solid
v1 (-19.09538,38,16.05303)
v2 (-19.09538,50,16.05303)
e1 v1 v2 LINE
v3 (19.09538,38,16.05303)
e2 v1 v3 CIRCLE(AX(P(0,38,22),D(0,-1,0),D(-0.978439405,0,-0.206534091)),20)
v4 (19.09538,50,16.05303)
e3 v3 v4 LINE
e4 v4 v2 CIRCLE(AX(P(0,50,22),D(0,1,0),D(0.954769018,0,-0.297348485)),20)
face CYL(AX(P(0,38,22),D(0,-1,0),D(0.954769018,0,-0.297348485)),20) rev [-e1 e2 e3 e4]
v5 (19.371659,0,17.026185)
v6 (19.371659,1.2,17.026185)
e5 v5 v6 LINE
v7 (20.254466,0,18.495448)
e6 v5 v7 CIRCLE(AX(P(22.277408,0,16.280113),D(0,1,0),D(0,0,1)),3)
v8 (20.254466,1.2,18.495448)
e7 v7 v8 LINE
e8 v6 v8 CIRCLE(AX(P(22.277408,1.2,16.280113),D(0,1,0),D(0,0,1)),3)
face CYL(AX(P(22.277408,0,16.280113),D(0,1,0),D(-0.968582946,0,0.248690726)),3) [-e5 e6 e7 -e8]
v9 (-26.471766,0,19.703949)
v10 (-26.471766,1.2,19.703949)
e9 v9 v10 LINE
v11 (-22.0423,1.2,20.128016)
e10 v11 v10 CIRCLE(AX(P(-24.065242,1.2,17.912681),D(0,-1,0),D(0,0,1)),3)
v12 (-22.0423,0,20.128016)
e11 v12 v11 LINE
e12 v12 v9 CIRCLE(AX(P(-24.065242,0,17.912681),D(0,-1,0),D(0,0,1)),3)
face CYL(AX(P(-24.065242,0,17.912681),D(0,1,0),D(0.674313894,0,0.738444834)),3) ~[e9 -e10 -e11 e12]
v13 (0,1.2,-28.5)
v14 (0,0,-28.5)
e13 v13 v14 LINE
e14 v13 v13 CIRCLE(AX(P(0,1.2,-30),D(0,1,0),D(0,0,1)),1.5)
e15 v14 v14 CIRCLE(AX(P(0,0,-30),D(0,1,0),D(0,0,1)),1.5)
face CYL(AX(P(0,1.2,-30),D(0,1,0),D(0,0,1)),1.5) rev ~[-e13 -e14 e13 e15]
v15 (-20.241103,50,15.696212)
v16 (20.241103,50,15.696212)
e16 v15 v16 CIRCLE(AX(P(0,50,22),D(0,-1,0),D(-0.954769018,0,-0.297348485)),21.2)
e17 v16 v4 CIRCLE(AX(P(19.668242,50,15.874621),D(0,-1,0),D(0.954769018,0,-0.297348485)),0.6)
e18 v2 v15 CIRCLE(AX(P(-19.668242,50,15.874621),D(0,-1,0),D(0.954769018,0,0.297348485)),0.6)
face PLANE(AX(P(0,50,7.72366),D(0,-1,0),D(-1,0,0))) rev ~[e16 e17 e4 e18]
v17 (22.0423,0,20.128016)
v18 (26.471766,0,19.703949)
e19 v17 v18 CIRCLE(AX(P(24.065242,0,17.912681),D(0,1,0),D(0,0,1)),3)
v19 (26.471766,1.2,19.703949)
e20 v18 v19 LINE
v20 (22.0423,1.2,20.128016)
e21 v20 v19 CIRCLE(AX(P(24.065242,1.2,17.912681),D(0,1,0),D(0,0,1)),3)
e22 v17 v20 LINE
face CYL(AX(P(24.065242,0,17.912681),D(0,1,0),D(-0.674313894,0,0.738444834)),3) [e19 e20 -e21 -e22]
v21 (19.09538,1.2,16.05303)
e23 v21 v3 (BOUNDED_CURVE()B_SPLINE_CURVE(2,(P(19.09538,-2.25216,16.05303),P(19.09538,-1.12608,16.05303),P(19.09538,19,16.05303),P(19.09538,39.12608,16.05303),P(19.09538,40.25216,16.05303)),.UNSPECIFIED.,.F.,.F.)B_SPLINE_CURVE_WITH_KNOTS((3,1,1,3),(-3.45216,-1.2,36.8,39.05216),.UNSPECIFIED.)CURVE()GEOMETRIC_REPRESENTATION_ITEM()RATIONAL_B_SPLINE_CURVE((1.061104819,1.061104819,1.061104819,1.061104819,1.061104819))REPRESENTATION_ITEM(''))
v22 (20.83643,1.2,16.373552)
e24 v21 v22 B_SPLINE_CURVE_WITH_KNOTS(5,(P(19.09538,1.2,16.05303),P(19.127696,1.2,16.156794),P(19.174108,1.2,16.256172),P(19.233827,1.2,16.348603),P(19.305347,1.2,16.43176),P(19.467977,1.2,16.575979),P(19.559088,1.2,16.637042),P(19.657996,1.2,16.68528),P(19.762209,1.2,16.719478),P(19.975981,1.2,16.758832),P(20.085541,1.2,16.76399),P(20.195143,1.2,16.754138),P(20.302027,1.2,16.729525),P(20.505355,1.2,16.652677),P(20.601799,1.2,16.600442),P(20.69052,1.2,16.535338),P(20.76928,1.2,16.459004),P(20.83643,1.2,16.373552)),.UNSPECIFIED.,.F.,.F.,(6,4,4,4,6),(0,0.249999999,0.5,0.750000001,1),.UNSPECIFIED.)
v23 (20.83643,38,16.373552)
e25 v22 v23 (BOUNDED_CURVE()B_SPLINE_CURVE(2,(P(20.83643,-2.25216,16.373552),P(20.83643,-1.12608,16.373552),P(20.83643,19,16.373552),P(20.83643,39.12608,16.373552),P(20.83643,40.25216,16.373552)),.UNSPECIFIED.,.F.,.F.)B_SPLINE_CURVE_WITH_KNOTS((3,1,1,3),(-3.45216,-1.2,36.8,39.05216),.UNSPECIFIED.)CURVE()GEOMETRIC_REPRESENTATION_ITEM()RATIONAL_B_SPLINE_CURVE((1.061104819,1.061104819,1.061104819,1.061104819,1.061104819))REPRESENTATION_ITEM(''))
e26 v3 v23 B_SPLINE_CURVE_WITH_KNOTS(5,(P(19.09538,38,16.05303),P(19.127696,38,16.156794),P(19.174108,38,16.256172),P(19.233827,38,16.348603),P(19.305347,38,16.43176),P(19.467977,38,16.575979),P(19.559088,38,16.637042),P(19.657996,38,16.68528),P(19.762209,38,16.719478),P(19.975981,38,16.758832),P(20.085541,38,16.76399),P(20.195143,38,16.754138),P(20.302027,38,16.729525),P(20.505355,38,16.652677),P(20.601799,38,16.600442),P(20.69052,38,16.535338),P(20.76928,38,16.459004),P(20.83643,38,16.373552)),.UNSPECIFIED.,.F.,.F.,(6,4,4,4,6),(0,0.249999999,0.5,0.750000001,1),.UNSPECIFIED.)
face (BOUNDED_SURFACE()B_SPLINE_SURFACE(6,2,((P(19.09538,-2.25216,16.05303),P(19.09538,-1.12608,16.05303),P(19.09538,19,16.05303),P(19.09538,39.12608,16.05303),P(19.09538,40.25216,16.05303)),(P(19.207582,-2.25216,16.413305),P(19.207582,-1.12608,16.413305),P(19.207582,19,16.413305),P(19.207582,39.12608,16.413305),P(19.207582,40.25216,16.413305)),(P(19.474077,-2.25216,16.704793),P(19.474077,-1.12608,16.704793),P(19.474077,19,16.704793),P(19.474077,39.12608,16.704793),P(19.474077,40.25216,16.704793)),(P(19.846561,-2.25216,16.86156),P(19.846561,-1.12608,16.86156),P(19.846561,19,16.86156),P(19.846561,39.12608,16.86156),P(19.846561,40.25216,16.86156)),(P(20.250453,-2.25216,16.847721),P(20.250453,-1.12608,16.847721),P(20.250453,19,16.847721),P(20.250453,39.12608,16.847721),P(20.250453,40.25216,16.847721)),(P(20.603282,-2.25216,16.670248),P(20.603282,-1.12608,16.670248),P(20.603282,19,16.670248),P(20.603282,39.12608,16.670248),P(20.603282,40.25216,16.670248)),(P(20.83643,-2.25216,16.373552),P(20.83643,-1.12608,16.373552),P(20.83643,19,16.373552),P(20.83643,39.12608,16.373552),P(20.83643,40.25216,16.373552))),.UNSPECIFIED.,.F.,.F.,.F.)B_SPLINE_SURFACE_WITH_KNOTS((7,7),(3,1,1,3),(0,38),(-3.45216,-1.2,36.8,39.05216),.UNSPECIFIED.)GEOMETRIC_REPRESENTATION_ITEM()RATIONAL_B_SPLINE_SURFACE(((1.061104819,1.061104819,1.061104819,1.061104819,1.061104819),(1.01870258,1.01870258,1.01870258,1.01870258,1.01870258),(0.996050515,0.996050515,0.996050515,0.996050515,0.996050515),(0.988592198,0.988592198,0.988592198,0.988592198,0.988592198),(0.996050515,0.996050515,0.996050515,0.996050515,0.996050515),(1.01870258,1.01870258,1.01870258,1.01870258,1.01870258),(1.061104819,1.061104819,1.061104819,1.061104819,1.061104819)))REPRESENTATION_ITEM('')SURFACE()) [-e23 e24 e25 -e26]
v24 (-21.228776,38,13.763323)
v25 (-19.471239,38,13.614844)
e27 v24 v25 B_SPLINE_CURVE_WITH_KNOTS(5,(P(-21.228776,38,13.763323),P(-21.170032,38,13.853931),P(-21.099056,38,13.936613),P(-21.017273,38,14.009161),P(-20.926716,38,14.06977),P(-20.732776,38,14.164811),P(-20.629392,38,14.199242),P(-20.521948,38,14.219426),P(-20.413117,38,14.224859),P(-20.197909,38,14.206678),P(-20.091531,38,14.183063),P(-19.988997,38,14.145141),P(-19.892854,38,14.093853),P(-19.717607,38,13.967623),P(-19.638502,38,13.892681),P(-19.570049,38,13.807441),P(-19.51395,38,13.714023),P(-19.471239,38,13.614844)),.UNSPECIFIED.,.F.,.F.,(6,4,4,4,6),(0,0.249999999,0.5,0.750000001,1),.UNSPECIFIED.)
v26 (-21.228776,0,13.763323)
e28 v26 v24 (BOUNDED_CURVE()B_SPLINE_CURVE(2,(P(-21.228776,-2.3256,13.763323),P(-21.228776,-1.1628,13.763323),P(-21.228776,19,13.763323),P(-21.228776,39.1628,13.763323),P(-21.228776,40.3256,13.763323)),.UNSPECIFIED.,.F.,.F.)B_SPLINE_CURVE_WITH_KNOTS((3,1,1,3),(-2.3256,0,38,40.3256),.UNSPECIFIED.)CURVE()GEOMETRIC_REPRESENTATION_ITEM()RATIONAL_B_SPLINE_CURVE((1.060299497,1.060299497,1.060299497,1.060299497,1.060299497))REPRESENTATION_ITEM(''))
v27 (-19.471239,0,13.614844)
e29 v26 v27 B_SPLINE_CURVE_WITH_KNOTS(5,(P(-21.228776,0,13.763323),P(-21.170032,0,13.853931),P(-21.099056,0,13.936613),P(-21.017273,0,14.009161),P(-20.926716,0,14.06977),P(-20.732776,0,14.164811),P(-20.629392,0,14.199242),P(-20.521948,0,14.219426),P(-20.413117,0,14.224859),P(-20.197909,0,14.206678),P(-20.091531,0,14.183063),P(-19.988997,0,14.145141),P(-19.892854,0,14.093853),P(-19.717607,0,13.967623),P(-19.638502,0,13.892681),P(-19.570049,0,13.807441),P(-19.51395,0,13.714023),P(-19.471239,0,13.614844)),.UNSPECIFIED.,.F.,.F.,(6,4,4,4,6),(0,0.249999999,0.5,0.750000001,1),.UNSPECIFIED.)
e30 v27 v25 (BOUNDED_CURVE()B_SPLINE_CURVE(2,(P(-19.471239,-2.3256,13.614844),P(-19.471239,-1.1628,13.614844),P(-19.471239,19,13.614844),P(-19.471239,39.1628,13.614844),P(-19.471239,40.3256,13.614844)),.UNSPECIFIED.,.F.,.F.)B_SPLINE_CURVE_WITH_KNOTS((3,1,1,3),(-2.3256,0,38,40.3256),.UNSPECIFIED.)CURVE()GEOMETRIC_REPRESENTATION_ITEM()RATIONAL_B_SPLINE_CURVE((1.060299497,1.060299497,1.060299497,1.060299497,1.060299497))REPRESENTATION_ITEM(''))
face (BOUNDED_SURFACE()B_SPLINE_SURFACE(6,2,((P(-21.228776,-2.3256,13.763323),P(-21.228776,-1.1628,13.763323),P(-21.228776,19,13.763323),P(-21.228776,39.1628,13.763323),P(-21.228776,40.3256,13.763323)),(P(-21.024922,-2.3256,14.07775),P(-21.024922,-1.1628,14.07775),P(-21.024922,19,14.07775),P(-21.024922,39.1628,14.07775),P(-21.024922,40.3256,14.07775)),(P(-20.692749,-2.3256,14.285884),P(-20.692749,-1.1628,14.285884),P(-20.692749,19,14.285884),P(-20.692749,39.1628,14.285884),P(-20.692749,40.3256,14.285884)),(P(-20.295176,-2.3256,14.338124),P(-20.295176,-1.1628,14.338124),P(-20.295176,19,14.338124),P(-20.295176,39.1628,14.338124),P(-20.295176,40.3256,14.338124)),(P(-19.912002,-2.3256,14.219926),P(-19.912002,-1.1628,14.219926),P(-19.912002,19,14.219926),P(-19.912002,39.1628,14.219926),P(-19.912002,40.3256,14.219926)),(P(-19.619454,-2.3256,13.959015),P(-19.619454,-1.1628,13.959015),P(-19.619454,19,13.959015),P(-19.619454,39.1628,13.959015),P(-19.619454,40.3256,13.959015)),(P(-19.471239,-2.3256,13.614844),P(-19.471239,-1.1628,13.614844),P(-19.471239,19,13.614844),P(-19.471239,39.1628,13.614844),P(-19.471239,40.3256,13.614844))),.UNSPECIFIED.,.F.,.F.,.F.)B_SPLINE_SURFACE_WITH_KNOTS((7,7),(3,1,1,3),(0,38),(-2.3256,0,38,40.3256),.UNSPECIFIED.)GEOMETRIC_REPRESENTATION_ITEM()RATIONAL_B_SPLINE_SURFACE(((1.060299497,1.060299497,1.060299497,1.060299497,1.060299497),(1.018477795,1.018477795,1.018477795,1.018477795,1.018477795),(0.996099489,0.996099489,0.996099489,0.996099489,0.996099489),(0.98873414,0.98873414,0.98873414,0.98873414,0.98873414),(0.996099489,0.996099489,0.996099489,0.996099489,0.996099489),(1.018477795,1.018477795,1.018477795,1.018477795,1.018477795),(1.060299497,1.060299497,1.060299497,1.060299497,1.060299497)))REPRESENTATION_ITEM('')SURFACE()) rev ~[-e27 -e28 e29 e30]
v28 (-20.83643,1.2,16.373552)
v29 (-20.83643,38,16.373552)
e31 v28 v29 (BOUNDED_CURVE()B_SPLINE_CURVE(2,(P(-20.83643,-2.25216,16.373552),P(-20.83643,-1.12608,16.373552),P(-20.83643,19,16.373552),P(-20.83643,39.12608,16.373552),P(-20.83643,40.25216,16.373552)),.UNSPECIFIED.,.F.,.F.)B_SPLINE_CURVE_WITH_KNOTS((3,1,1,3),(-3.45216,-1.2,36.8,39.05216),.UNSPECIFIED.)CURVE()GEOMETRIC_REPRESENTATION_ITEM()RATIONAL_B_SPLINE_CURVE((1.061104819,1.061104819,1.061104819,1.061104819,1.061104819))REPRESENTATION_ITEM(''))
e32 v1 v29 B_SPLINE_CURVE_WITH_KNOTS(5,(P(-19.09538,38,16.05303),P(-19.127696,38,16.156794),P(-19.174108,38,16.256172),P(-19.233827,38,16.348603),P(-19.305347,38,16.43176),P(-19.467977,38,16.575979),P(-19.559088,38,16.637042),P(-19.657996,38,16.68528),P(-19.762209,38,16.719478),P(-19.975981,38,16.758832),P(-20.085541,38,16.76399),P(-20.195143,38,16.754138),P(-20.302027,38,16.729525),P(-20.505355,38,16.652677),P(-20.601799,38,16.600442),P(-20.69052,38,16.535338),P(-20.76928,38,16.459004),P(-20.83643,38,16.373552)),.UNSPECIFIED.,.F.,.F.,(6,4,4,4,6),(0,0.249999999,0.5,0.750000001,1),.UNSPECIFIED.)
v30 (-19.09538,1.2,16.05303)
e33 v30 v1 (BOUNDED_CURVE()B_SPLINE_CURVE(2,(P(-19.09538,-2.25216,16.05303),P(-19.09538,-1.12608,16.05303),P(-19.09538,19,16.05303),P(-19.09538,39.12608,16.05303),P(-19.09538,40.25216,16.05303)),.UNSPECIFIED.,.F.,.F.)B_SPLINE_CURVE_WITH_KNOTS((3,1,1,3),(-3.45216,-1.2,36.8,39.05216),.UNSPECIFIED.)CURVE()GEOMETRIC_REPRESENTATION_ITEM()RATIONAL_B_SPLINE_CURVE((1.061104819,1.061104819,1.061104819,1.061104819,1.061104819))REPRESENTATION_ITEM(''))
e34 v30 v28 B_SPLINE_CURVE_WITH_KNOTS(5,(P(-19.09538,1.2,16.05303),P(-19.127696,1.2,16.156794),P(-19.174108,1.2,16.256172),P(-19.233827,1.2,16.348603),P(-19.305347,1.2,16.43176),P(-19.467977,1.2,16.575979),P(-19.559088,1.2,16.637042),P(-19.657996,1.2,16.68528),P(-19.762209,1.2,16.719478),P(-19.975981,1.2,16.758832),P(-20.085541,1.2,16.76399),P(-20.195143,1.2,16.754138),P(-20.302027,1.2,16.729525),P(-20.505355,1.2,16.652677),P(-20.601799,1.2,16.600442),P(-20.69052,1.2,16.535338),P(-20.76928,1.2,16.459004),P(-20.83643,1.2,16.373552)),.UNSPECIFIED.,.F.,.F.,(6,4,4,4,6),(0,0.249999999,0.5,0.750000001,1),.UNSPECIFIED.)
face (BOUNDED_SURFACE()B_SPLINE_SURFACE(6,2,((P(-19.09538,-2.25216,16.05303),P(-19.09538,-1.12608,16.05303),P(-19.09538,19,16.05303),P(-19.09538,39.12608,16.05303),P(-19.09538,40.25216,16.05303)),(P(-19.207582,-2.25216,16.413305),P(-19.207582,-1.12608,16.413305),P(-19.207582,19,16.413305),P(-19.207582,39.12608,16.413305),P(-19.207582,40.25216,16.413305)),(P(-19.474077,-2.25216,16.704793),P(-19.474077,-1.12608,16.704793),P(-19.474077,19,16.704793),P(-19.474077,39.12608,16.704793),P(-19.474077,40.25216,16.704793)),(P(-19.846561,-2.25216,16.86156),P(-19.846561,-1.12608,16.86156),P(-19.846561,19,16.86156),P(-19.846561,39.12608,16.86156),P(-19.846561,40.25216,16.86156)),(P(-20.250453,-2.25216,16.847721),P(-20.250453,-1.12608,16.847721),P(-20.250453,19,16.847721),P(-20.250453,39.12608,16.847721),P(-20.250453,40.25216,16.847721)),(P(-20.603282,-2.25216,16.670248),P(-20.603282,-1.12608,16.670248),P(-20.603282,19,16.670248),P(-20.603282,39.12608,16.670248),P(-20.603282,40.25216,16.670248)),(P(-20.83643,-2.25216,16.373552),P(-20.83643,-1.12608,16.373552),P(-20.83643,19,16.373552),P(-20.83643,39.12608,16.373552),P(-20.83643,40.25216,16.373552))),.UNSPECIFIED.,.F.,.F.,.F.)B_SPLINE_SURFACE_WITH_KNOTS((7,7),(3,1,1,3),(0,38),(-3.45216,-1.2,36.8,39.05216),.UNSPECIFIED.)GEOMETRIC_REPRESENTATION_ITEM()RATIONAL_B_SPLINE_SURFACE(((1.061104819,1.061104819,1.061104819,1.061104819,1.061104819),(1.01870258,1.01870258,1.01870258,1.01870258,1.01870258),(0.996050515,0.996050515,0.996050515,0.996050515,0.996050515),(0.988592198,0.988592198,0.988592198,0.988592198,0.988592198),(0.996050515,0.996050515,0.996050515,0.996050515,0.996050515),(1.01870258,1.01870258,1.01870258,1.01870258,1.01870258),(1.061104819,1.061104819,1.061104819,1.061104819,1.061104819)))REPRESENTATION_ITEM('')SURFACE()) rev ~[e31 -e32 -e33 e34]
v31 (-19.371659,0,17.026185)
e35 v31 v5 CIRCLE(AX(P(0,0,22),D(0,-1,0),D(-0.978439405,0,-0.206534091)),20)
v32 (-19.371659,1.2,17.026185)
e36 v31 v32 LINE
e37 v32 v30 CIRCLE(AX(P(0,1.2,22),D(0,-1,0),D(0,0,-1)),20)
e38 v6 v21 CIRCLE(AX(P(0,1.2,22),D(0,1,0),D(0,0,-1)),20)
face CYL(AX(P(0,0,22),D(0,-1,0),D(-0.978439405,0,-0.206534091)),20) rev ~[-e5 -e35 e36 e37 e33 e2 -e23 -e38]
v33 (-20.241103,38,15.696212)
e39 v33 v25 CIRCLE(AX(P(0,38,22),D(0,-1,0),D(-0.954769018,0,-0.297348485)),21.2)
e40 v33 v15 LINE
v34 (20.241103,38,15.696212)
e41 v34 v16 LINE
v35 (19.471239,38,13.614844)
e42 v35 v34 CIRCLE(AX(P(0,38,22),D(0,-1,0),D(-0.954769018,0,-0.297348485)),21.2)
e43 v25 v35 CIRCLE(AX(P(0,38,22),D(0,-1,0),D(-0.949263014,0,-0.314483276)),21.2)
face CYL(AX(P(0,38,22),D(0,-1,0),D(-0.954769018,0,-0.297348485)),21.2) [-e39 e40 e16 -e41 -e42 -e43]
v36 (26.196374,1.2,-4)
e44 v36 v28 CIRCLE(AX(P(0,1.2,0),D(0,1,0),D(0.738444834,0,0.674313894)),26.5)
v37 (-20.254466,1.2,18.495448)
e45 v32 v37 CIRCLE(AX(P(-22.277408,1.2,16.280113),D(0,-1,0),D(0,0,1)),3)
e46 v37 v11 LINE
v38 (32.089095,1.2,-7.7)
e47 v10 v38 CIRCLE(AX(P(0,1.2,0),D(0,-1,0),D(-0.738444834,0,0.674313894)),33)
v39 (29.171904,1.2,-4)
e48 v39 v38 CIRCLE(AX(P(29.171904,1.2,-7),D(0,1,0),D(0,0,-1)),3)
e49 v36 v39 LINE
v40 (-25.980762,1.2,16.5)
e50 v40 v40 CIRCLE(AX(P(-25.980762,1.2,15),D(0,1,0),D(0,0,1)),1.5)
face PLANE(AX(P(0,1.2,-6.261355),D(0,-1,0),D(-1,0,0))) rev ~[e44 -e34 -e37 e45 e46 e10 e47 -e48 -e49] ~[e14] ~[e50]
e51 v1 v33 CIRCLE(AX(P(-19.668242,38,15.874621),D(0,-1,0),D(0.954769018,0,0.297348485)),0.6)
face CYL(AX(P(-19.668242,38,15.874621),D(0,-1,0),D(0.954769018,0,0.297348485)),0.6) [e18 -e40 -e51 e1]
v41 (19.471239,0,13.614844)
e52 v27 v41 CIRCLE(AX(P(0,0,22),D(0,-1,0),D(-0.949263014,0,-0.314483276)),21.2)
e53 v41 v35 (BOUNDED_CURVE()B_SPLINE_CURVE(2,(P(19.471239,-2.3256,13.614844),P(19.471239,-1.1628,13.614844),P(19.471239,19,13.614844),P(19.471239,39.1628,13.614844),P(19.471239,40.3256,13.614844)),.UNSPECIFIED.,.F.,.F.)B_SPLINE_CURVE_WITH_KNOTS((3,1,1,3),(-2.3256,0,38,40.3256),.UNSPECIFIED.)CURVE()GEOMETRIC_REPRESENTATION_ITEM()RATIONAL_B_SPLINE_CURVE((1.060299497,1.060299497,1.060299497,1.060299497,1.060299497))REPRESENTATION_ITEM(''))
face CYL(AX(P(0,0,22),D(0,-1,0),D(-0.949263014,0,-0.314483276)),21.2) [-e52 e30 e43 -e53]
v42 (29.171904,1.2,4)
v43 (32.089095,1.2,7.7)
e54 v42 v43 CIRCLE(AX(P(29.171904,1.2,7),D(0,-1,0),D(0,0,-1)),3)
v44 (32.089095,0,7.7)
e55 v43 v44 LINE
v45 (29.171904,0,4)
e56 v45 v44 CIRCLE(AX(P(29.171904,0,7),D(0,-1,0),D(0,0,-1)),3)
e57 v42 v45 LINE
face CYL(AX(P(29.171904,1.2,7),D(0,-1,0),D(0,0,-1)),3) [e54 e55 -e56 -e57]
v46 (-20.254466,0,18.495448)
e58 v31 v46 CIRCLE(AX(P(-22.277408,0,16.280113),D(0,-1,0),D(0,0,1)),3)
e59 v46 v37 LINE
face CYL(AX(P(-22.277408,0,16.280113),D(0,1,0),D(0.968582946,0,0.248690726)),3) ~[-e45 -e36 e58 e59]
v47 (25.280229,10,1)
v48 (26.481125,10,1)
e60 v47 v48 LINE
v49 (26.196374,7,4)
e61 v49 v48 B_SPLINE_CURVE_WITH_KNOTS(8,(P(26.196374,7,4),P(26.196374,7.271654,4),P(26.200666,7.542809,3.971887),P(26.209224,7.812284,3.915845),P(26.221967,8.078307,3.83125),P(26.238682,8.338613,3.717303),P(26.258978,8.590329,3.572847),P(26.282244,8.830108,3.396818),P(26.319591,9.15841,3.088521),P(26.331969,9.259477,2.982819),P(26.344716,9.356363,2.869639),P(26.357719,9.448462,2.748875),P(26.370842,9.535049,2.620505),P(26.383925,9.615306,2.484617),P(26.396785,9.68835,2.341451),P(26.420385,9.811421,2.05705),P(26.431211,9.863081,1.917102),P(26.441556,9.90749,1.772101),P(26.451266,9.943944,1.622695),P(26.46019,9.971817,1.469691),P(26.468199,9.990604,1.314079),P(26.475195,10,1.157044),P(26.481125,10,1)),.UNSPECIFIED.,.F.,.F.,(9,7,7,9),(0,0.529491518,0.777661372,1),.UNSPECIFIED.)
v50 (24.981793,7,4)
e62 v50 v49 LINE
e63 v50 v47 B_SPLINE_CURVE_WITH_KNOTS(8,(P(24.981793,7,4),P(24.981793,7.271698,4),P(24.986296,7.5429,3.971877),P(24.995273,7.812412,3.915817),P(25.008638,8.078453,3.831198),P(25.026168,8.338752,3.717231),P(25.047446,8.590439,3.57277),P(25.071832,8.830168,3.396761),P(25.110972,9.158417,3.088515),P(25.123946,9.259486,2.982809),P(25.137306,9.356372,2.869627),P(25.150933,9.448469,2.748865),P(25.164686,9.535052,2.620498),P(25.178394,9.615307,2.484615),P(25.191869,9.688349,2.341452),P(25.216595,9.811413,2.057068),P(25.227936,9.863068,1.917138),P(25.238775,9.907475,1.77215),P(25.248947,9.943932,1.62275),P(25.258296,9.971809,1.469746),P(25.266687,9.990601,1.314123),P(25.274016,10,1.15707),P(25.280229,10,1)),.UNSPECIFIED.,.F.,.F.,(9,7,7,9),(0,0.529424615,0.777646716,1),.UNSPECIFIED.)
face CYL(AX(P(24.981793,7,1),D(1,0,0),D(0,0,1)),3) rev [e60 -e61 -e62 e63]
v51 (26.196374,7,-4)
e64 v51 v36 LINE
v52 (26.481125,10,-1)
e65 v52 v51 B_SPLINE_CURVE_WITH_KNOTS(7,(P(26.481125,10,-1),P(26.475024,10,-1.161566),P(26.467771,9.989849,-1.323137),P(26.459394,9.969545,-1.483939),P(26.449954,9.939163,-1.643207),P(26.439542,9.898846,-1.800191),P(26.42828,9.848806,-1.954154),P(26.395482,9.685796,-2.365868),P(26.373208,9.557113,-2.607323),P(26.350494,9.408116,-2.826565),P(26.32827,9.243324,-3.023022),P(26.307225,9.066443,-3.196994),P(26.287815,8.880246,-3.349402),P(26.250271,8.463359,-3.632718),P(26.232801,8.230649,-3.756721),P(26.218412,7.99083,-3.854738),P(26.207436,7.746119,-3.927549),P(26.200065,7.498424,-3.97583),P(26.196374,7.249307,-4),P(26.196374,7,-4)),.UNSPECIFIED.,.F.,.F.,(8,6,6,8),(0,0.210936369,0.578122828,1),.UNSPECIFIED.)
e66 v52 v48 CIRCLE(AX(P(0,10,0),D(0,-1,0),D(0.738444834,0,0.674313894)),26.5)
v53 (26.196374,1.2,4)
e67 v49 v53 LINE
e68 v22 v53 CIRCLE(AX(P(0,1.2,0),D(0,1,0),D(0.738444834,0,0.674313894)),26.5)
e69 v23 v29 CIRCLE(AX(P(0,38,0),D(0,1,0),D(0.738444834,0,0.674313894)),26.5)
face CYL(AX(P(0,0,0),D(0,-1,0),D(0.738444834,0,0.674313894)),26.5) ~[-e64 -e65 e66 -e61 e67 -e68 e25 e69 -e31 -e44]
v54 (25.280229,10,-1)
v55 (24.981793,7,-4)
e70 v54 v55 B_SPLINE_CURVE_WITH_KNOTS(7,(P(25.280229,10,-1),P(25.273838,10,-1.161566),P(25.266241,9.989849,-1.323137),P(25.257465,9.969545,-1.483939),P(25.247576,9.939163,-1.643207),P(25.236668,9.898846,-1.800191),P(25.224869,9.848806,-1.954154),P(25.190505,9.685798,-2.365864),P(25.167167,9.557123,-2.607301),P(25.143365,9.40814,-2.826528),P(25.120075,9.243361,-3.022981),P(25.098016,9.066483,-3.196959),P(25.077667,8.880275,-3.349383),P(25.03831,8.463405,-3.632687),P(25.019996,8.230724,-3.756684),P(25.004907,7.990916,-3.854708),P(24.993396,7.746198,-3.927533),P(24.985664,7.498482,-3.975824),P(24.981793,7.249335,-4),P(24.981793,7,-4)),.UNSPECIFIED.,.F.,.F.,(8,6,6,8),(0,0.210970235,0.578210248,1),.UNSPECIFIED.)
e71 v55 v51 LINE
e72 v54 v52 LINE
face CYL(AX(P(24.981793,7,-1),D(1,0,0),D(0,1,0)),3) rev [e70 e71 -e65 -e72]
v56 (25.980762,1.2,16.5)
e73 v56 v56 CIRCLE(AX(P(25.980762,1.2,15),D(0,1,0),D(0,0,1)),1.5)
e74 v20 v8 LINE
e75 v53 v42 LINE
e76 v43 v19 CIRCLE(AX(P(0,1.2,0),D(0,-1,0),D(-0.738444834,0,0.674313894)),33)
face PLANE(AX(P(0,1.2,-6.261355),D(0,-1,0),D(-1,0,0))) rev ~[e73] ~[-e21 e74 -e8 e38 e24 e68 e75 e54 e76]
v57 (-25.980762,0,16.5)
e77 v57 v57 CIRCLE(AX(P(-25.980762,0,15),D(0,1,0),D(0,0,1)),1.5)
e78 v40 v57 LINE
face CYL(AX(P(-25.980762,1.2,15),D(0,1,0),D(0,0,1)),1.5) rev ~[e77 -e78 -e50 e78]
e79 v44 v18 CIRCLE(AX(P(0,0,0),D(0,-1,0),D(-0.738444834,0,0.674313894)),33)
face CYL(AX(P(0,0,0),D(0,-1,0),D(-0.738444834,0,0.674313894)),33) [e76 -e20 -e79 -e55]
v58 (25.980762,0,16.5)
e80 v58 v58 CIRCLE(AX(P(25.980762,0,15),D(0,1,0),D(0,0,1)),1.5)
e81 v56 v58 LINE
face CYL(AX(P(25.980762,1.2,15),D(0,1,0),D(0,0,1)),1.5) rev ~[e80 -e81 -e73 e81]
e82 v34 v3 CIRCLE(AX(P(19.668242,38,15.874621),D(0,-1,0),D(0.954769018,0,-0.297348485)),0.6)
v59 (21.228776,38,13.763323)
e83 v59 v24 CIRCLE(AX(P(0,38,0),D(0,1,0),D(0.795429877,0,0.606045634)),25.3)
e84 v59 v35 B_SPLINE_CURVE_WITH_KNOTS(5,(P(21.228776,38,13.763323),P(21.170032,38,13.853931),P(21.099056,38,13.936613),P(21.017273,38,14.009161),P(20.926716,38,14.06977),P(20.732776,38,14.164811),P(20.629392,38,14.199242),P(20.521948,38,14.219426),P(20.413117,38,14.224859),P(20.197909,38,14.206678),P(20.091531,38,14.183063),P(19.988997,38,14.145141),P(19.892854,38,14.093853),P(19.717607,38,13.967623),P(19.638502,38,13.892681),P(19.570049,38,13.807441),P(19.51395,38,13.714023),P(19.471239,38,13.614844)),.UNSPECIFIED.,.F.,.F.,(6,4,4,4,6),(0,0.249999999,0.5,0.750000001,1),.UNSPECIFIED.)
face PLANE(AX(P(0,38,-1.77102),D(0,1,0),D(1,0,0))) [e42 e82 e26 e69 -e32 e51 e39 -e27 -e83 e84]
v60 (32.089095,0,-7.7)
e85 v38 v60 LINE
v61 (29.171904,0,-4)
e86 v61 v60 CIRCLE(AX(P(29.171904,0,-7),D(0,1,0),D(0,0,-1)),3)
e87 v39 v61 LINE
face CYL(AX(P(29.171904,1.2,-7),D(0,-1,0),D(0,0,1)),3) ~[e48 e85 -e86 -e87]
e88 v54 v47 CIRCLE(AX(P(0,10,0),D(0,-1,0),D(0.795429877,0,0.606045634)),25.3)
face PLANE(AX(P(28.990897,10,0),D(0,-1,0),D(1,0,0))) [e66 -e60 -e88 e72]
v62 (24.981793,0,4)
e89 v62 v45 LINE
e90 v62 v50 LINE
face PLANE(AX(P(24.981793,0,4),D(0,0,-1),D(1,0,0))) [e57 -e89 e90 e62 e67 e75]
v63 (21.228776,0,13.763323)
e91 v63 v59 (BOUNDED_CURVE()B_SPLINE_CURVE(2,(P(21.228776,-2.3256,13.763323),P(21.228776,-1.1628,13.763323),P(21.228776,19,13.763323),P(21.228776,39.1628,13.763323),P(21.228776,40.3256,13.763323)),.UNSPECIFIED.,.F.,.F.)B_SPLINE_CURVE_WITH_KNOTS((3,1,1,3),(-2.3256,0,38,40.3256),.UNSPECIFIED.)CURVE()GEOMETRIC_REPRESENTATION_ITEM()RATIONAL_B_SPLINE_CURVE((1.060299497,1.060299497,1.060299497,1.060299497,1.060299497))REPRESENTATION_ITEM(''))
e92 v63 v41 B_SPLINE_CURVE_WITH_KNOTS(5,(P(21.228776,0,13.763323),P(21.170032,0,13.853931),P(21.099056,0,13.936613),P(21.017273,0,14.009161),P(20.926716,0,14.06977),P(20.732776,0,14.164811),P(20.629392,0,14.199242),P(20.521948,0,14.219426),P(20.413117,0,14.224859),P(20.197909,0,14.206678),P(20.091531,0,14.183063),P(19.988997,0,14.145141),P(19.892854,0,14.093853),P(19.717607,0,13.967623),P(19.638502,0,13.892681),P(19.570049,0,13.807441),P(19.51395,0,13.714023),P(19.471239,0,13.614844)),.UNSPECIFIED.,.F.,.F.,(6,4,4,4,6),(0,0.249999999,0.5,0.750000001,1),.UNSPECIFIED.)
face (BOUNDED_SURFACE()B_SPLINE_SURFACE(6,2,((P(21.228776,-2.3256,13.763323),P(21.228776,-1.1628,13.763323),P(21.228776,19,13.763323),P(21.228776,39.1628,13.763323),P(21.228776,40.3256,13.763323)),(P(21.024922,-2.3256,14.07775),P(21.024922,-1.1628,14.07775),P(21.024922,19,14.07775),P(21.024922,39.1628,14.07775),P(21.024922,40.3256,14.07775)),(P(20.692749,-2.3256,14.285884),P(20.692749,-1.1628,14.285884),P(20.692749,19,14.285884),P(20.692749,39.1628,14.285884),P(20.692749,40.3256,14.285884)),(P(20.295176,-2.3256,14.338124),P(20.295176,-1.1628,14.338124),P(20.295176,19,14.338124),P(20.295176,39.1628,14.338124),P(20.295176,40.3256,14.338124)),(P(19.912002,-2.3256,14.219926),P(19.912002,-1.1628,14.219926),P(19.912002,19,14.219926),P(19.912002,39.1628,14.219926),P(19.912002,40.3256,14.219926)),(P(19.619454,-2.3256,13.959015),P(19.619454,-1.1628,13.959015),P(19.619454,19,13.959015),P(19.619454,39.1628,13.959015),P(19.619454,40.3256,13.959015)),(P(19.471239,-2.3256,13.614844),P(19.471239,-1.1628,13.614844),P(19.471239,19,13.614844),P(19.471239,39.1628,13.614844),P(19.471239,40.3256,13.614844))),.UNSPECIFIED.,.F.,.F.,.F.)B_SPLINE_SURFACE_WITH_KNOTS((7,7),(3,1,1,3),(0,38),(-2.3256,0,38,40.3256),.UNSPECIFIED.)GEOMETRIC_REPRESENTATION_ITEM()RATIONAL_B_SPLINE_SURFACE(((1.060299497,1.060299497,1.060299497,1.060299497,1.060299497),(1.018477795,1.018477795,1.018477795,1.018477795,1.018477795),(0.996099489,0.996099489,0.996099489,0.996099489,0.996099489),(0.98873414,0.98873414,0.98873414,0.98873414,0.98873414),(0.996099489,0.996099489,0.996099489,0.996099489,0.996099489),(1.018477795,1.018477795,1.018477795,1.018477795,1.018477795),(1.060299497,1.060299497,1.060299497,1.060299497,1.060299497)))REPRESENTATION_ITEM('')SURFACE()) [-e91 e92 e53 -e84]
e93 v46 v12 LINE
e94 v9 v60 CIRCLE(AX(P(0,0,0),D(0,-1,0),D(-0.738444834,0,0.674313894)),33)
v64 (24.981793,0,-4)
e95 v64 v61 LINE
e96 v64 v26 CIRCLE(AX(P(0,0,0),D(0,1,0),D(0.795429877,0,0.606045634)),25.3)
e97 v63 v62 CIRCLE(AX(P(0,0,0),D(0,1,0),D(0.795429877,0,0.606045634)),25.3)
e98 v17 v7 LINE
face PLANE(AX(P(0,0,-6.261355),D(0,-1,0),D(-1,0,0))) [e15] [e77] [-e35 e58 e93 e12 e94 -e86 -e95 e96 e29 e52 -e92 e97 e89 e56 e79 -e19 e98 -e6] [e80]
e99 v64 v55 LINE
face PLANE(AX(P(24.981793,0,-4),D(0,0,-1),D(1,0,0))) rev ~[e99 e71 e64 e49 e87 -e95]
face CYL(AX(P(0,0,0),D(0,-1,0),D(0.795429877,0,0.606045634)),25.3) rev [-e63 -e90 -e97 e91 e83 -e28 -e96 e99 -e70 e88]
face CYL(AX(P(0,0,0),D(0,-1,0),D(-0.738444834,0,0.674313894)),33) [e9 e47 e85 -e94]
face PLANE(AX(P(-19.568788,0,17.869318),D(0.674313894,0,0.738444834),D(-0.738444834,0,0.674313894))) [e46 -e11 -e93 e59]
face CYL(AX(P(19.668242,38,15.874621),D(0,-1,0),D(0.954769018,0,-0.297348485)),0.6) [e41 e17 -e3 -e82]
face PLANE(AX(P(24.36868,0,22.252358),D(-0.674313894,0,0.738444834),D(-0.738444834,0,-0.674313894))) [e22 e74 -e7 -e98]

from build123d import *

# Parameters (mm, degrees)
EXTRU_MINCE1_DEPTH      = 38
BOSS_EXTRU_1_DEPTH      = 1.2
CONG_1_R                = 1
BOSS_EXTRU_2_DEPTH      = 12
ESQUISSE4_R             = 1.5
ENL_V_MAT_EXTRU_1_DEPTH = 68.523625665
ESQUISSE5_W             = 8.01820663
ESQUISSE5_H             = 8
ENL_V_MAT_EXTRU_2_DEPTH = 10
CONG_2_R                = 3


with BuildPart() as part:
    # Esquisse1 → Extru.-Mince1 (new body)
    with BuildSketch(Plane(origin=(0, 0, 0), x_dir=(1, 0, 0), z_dir=(0, 1, 0))):
        with BuildLine():
            ThreePointArc((19.5687881, -17.869318182), (0, 26.5), (-19.5687881, -17.869318182))
            ThreePointArc((-19.5687881, -17.869318182), (0, -2), (19.5687881, -17.869318182))
        make_face()
        with BuildLine():
            ThreePointArc((20.124375889, -15.332954545), (0, 25.3), (-20.124375889, -15.332954545))
            ThreePointArc((-20.124375889, -15.332954545), (0, -0.8), (20.124375889, -15.332954545))
        make_face(mode=Mode.SUBTRACT)
    extrude(amount=EXTRU_MINCE1_DEPTH)

    # Esquisse2 → Boss.-Extru.1 (add)
    with BuildSketch(Plane(origin=(0, 0, 0), x_dir=(1, 0, 0), z_dir=(0, 1, 0))):
        with BuildLine():
            Line((-19.5687881, -17.869318182), (-24.368679521, -22.252358491))
            ThreePointArc((-24.368679521, -22.252358491), (0, 33), (24.368679521, -22.252358491))
            Line((24.368679521, -22.252358491), (19.5687881, -17.869318182))
            ThreePointArc((19.5687881, -17.869318182), (0, 26.5), (-19.5687881, -17.869318182))
        make_face()
    extrude(amount=BOSS_EXTRU_1_DEPTH)

    # Congé1
    cong_1_edges = [part.edges().sort_by_distance(p)[0] for p in [
        (-19.5687881, 19.6, 17.869318182),
        (19.5687881, 19.6, 17.869318182),
        (-20.124375889, 19, 15.332954545),
        (20.124375889, 19, 15.332954545),
    ]]
    fillet(cong_1_edges, radius=CONG_1_R)

    # Esquisse3 → Boss.-Extru.2 (add)
    with BuildSketch(Plane(origin=(0, 38, 0), x_dir=(1, 0, 0), z_dir=(0, 1, 0))):
        with BuildLine():
            ThreePointArc((20.241103191, -15.696212121), (19.846650871, -16.447482623), (19.095380369, -16.053030303))
            ThreePointArc((19.095380369, -16.053030303), (0, -2), (-19.095380369, -16.053030303))
            ThreePointArc((-19.095380369, -16.053030303), (-19.846650871, -16.447482623), (-20.241103191, -15.696212121))
            ThreePointArc((-20.241103191, -15.696212121), (0, -0.8), (20.241103191, -15.696212121))
        make_face()
    extrude(amount=BOSS_EXTRU_2_DEPTH)

    # Esquisse4 → Enlèv. mat.-Extru.1 (cut, through all)
    with BuildSketch(Plane(origin=(0, 1.2, 0), x_dir=(1, 0, 0), z_dir=(0, 1, 0))):
        with Locations(Location((-25.980762114, -15, 0), (0, 0, 270))):
            Circle(ESQUISSE4_R)
        with Locations(Location((0, 30, 0), (0, 0, 270))):
            Circle(ESQUISSE4_R)
        with Locations(Location((25.980762114, -15, 0), (0, 0, 270))):
            Circle(ESQUISSE4_R)
    extrude(amount=-ENL_V_MAT_EXTRU_1_DEPTH, mode=Mode.SUBTRACT)

    # Esquisse5 → Enlèv. mat.-Extru.2 (cut)
    with BuildSketch(Plane.XZ):
        with Locations((28.990896685, 0)):
            Rectangle(ESQUISSE5_W, ESQUISSE5_H)
    extrude(amount=-ENL_V_MAT_EXTRU_2_DEPTH, mode=Mode.SUBTRACT)

    # Congé2
    cong_2_edges = [part.edges().sort_by_distance(p)[0] for p in [
        (25.589083583, 10, 4),
        (32.756678708, 0.6, 4),
        (25.589083583, 10, -4),
        (32.756678708, 0.6, -4),
        (-19.5687881, 0.6, 17.869318182),
        (19.5687881, 0.6, 17.869318182),
        (24.368679521, 0.6, 22.252358491),
        (-24.368679521, 0.6, 22.252358491),
    ]]
    fillet(cong_2_edges, radius=CONG_2_R)


solid = part.part
